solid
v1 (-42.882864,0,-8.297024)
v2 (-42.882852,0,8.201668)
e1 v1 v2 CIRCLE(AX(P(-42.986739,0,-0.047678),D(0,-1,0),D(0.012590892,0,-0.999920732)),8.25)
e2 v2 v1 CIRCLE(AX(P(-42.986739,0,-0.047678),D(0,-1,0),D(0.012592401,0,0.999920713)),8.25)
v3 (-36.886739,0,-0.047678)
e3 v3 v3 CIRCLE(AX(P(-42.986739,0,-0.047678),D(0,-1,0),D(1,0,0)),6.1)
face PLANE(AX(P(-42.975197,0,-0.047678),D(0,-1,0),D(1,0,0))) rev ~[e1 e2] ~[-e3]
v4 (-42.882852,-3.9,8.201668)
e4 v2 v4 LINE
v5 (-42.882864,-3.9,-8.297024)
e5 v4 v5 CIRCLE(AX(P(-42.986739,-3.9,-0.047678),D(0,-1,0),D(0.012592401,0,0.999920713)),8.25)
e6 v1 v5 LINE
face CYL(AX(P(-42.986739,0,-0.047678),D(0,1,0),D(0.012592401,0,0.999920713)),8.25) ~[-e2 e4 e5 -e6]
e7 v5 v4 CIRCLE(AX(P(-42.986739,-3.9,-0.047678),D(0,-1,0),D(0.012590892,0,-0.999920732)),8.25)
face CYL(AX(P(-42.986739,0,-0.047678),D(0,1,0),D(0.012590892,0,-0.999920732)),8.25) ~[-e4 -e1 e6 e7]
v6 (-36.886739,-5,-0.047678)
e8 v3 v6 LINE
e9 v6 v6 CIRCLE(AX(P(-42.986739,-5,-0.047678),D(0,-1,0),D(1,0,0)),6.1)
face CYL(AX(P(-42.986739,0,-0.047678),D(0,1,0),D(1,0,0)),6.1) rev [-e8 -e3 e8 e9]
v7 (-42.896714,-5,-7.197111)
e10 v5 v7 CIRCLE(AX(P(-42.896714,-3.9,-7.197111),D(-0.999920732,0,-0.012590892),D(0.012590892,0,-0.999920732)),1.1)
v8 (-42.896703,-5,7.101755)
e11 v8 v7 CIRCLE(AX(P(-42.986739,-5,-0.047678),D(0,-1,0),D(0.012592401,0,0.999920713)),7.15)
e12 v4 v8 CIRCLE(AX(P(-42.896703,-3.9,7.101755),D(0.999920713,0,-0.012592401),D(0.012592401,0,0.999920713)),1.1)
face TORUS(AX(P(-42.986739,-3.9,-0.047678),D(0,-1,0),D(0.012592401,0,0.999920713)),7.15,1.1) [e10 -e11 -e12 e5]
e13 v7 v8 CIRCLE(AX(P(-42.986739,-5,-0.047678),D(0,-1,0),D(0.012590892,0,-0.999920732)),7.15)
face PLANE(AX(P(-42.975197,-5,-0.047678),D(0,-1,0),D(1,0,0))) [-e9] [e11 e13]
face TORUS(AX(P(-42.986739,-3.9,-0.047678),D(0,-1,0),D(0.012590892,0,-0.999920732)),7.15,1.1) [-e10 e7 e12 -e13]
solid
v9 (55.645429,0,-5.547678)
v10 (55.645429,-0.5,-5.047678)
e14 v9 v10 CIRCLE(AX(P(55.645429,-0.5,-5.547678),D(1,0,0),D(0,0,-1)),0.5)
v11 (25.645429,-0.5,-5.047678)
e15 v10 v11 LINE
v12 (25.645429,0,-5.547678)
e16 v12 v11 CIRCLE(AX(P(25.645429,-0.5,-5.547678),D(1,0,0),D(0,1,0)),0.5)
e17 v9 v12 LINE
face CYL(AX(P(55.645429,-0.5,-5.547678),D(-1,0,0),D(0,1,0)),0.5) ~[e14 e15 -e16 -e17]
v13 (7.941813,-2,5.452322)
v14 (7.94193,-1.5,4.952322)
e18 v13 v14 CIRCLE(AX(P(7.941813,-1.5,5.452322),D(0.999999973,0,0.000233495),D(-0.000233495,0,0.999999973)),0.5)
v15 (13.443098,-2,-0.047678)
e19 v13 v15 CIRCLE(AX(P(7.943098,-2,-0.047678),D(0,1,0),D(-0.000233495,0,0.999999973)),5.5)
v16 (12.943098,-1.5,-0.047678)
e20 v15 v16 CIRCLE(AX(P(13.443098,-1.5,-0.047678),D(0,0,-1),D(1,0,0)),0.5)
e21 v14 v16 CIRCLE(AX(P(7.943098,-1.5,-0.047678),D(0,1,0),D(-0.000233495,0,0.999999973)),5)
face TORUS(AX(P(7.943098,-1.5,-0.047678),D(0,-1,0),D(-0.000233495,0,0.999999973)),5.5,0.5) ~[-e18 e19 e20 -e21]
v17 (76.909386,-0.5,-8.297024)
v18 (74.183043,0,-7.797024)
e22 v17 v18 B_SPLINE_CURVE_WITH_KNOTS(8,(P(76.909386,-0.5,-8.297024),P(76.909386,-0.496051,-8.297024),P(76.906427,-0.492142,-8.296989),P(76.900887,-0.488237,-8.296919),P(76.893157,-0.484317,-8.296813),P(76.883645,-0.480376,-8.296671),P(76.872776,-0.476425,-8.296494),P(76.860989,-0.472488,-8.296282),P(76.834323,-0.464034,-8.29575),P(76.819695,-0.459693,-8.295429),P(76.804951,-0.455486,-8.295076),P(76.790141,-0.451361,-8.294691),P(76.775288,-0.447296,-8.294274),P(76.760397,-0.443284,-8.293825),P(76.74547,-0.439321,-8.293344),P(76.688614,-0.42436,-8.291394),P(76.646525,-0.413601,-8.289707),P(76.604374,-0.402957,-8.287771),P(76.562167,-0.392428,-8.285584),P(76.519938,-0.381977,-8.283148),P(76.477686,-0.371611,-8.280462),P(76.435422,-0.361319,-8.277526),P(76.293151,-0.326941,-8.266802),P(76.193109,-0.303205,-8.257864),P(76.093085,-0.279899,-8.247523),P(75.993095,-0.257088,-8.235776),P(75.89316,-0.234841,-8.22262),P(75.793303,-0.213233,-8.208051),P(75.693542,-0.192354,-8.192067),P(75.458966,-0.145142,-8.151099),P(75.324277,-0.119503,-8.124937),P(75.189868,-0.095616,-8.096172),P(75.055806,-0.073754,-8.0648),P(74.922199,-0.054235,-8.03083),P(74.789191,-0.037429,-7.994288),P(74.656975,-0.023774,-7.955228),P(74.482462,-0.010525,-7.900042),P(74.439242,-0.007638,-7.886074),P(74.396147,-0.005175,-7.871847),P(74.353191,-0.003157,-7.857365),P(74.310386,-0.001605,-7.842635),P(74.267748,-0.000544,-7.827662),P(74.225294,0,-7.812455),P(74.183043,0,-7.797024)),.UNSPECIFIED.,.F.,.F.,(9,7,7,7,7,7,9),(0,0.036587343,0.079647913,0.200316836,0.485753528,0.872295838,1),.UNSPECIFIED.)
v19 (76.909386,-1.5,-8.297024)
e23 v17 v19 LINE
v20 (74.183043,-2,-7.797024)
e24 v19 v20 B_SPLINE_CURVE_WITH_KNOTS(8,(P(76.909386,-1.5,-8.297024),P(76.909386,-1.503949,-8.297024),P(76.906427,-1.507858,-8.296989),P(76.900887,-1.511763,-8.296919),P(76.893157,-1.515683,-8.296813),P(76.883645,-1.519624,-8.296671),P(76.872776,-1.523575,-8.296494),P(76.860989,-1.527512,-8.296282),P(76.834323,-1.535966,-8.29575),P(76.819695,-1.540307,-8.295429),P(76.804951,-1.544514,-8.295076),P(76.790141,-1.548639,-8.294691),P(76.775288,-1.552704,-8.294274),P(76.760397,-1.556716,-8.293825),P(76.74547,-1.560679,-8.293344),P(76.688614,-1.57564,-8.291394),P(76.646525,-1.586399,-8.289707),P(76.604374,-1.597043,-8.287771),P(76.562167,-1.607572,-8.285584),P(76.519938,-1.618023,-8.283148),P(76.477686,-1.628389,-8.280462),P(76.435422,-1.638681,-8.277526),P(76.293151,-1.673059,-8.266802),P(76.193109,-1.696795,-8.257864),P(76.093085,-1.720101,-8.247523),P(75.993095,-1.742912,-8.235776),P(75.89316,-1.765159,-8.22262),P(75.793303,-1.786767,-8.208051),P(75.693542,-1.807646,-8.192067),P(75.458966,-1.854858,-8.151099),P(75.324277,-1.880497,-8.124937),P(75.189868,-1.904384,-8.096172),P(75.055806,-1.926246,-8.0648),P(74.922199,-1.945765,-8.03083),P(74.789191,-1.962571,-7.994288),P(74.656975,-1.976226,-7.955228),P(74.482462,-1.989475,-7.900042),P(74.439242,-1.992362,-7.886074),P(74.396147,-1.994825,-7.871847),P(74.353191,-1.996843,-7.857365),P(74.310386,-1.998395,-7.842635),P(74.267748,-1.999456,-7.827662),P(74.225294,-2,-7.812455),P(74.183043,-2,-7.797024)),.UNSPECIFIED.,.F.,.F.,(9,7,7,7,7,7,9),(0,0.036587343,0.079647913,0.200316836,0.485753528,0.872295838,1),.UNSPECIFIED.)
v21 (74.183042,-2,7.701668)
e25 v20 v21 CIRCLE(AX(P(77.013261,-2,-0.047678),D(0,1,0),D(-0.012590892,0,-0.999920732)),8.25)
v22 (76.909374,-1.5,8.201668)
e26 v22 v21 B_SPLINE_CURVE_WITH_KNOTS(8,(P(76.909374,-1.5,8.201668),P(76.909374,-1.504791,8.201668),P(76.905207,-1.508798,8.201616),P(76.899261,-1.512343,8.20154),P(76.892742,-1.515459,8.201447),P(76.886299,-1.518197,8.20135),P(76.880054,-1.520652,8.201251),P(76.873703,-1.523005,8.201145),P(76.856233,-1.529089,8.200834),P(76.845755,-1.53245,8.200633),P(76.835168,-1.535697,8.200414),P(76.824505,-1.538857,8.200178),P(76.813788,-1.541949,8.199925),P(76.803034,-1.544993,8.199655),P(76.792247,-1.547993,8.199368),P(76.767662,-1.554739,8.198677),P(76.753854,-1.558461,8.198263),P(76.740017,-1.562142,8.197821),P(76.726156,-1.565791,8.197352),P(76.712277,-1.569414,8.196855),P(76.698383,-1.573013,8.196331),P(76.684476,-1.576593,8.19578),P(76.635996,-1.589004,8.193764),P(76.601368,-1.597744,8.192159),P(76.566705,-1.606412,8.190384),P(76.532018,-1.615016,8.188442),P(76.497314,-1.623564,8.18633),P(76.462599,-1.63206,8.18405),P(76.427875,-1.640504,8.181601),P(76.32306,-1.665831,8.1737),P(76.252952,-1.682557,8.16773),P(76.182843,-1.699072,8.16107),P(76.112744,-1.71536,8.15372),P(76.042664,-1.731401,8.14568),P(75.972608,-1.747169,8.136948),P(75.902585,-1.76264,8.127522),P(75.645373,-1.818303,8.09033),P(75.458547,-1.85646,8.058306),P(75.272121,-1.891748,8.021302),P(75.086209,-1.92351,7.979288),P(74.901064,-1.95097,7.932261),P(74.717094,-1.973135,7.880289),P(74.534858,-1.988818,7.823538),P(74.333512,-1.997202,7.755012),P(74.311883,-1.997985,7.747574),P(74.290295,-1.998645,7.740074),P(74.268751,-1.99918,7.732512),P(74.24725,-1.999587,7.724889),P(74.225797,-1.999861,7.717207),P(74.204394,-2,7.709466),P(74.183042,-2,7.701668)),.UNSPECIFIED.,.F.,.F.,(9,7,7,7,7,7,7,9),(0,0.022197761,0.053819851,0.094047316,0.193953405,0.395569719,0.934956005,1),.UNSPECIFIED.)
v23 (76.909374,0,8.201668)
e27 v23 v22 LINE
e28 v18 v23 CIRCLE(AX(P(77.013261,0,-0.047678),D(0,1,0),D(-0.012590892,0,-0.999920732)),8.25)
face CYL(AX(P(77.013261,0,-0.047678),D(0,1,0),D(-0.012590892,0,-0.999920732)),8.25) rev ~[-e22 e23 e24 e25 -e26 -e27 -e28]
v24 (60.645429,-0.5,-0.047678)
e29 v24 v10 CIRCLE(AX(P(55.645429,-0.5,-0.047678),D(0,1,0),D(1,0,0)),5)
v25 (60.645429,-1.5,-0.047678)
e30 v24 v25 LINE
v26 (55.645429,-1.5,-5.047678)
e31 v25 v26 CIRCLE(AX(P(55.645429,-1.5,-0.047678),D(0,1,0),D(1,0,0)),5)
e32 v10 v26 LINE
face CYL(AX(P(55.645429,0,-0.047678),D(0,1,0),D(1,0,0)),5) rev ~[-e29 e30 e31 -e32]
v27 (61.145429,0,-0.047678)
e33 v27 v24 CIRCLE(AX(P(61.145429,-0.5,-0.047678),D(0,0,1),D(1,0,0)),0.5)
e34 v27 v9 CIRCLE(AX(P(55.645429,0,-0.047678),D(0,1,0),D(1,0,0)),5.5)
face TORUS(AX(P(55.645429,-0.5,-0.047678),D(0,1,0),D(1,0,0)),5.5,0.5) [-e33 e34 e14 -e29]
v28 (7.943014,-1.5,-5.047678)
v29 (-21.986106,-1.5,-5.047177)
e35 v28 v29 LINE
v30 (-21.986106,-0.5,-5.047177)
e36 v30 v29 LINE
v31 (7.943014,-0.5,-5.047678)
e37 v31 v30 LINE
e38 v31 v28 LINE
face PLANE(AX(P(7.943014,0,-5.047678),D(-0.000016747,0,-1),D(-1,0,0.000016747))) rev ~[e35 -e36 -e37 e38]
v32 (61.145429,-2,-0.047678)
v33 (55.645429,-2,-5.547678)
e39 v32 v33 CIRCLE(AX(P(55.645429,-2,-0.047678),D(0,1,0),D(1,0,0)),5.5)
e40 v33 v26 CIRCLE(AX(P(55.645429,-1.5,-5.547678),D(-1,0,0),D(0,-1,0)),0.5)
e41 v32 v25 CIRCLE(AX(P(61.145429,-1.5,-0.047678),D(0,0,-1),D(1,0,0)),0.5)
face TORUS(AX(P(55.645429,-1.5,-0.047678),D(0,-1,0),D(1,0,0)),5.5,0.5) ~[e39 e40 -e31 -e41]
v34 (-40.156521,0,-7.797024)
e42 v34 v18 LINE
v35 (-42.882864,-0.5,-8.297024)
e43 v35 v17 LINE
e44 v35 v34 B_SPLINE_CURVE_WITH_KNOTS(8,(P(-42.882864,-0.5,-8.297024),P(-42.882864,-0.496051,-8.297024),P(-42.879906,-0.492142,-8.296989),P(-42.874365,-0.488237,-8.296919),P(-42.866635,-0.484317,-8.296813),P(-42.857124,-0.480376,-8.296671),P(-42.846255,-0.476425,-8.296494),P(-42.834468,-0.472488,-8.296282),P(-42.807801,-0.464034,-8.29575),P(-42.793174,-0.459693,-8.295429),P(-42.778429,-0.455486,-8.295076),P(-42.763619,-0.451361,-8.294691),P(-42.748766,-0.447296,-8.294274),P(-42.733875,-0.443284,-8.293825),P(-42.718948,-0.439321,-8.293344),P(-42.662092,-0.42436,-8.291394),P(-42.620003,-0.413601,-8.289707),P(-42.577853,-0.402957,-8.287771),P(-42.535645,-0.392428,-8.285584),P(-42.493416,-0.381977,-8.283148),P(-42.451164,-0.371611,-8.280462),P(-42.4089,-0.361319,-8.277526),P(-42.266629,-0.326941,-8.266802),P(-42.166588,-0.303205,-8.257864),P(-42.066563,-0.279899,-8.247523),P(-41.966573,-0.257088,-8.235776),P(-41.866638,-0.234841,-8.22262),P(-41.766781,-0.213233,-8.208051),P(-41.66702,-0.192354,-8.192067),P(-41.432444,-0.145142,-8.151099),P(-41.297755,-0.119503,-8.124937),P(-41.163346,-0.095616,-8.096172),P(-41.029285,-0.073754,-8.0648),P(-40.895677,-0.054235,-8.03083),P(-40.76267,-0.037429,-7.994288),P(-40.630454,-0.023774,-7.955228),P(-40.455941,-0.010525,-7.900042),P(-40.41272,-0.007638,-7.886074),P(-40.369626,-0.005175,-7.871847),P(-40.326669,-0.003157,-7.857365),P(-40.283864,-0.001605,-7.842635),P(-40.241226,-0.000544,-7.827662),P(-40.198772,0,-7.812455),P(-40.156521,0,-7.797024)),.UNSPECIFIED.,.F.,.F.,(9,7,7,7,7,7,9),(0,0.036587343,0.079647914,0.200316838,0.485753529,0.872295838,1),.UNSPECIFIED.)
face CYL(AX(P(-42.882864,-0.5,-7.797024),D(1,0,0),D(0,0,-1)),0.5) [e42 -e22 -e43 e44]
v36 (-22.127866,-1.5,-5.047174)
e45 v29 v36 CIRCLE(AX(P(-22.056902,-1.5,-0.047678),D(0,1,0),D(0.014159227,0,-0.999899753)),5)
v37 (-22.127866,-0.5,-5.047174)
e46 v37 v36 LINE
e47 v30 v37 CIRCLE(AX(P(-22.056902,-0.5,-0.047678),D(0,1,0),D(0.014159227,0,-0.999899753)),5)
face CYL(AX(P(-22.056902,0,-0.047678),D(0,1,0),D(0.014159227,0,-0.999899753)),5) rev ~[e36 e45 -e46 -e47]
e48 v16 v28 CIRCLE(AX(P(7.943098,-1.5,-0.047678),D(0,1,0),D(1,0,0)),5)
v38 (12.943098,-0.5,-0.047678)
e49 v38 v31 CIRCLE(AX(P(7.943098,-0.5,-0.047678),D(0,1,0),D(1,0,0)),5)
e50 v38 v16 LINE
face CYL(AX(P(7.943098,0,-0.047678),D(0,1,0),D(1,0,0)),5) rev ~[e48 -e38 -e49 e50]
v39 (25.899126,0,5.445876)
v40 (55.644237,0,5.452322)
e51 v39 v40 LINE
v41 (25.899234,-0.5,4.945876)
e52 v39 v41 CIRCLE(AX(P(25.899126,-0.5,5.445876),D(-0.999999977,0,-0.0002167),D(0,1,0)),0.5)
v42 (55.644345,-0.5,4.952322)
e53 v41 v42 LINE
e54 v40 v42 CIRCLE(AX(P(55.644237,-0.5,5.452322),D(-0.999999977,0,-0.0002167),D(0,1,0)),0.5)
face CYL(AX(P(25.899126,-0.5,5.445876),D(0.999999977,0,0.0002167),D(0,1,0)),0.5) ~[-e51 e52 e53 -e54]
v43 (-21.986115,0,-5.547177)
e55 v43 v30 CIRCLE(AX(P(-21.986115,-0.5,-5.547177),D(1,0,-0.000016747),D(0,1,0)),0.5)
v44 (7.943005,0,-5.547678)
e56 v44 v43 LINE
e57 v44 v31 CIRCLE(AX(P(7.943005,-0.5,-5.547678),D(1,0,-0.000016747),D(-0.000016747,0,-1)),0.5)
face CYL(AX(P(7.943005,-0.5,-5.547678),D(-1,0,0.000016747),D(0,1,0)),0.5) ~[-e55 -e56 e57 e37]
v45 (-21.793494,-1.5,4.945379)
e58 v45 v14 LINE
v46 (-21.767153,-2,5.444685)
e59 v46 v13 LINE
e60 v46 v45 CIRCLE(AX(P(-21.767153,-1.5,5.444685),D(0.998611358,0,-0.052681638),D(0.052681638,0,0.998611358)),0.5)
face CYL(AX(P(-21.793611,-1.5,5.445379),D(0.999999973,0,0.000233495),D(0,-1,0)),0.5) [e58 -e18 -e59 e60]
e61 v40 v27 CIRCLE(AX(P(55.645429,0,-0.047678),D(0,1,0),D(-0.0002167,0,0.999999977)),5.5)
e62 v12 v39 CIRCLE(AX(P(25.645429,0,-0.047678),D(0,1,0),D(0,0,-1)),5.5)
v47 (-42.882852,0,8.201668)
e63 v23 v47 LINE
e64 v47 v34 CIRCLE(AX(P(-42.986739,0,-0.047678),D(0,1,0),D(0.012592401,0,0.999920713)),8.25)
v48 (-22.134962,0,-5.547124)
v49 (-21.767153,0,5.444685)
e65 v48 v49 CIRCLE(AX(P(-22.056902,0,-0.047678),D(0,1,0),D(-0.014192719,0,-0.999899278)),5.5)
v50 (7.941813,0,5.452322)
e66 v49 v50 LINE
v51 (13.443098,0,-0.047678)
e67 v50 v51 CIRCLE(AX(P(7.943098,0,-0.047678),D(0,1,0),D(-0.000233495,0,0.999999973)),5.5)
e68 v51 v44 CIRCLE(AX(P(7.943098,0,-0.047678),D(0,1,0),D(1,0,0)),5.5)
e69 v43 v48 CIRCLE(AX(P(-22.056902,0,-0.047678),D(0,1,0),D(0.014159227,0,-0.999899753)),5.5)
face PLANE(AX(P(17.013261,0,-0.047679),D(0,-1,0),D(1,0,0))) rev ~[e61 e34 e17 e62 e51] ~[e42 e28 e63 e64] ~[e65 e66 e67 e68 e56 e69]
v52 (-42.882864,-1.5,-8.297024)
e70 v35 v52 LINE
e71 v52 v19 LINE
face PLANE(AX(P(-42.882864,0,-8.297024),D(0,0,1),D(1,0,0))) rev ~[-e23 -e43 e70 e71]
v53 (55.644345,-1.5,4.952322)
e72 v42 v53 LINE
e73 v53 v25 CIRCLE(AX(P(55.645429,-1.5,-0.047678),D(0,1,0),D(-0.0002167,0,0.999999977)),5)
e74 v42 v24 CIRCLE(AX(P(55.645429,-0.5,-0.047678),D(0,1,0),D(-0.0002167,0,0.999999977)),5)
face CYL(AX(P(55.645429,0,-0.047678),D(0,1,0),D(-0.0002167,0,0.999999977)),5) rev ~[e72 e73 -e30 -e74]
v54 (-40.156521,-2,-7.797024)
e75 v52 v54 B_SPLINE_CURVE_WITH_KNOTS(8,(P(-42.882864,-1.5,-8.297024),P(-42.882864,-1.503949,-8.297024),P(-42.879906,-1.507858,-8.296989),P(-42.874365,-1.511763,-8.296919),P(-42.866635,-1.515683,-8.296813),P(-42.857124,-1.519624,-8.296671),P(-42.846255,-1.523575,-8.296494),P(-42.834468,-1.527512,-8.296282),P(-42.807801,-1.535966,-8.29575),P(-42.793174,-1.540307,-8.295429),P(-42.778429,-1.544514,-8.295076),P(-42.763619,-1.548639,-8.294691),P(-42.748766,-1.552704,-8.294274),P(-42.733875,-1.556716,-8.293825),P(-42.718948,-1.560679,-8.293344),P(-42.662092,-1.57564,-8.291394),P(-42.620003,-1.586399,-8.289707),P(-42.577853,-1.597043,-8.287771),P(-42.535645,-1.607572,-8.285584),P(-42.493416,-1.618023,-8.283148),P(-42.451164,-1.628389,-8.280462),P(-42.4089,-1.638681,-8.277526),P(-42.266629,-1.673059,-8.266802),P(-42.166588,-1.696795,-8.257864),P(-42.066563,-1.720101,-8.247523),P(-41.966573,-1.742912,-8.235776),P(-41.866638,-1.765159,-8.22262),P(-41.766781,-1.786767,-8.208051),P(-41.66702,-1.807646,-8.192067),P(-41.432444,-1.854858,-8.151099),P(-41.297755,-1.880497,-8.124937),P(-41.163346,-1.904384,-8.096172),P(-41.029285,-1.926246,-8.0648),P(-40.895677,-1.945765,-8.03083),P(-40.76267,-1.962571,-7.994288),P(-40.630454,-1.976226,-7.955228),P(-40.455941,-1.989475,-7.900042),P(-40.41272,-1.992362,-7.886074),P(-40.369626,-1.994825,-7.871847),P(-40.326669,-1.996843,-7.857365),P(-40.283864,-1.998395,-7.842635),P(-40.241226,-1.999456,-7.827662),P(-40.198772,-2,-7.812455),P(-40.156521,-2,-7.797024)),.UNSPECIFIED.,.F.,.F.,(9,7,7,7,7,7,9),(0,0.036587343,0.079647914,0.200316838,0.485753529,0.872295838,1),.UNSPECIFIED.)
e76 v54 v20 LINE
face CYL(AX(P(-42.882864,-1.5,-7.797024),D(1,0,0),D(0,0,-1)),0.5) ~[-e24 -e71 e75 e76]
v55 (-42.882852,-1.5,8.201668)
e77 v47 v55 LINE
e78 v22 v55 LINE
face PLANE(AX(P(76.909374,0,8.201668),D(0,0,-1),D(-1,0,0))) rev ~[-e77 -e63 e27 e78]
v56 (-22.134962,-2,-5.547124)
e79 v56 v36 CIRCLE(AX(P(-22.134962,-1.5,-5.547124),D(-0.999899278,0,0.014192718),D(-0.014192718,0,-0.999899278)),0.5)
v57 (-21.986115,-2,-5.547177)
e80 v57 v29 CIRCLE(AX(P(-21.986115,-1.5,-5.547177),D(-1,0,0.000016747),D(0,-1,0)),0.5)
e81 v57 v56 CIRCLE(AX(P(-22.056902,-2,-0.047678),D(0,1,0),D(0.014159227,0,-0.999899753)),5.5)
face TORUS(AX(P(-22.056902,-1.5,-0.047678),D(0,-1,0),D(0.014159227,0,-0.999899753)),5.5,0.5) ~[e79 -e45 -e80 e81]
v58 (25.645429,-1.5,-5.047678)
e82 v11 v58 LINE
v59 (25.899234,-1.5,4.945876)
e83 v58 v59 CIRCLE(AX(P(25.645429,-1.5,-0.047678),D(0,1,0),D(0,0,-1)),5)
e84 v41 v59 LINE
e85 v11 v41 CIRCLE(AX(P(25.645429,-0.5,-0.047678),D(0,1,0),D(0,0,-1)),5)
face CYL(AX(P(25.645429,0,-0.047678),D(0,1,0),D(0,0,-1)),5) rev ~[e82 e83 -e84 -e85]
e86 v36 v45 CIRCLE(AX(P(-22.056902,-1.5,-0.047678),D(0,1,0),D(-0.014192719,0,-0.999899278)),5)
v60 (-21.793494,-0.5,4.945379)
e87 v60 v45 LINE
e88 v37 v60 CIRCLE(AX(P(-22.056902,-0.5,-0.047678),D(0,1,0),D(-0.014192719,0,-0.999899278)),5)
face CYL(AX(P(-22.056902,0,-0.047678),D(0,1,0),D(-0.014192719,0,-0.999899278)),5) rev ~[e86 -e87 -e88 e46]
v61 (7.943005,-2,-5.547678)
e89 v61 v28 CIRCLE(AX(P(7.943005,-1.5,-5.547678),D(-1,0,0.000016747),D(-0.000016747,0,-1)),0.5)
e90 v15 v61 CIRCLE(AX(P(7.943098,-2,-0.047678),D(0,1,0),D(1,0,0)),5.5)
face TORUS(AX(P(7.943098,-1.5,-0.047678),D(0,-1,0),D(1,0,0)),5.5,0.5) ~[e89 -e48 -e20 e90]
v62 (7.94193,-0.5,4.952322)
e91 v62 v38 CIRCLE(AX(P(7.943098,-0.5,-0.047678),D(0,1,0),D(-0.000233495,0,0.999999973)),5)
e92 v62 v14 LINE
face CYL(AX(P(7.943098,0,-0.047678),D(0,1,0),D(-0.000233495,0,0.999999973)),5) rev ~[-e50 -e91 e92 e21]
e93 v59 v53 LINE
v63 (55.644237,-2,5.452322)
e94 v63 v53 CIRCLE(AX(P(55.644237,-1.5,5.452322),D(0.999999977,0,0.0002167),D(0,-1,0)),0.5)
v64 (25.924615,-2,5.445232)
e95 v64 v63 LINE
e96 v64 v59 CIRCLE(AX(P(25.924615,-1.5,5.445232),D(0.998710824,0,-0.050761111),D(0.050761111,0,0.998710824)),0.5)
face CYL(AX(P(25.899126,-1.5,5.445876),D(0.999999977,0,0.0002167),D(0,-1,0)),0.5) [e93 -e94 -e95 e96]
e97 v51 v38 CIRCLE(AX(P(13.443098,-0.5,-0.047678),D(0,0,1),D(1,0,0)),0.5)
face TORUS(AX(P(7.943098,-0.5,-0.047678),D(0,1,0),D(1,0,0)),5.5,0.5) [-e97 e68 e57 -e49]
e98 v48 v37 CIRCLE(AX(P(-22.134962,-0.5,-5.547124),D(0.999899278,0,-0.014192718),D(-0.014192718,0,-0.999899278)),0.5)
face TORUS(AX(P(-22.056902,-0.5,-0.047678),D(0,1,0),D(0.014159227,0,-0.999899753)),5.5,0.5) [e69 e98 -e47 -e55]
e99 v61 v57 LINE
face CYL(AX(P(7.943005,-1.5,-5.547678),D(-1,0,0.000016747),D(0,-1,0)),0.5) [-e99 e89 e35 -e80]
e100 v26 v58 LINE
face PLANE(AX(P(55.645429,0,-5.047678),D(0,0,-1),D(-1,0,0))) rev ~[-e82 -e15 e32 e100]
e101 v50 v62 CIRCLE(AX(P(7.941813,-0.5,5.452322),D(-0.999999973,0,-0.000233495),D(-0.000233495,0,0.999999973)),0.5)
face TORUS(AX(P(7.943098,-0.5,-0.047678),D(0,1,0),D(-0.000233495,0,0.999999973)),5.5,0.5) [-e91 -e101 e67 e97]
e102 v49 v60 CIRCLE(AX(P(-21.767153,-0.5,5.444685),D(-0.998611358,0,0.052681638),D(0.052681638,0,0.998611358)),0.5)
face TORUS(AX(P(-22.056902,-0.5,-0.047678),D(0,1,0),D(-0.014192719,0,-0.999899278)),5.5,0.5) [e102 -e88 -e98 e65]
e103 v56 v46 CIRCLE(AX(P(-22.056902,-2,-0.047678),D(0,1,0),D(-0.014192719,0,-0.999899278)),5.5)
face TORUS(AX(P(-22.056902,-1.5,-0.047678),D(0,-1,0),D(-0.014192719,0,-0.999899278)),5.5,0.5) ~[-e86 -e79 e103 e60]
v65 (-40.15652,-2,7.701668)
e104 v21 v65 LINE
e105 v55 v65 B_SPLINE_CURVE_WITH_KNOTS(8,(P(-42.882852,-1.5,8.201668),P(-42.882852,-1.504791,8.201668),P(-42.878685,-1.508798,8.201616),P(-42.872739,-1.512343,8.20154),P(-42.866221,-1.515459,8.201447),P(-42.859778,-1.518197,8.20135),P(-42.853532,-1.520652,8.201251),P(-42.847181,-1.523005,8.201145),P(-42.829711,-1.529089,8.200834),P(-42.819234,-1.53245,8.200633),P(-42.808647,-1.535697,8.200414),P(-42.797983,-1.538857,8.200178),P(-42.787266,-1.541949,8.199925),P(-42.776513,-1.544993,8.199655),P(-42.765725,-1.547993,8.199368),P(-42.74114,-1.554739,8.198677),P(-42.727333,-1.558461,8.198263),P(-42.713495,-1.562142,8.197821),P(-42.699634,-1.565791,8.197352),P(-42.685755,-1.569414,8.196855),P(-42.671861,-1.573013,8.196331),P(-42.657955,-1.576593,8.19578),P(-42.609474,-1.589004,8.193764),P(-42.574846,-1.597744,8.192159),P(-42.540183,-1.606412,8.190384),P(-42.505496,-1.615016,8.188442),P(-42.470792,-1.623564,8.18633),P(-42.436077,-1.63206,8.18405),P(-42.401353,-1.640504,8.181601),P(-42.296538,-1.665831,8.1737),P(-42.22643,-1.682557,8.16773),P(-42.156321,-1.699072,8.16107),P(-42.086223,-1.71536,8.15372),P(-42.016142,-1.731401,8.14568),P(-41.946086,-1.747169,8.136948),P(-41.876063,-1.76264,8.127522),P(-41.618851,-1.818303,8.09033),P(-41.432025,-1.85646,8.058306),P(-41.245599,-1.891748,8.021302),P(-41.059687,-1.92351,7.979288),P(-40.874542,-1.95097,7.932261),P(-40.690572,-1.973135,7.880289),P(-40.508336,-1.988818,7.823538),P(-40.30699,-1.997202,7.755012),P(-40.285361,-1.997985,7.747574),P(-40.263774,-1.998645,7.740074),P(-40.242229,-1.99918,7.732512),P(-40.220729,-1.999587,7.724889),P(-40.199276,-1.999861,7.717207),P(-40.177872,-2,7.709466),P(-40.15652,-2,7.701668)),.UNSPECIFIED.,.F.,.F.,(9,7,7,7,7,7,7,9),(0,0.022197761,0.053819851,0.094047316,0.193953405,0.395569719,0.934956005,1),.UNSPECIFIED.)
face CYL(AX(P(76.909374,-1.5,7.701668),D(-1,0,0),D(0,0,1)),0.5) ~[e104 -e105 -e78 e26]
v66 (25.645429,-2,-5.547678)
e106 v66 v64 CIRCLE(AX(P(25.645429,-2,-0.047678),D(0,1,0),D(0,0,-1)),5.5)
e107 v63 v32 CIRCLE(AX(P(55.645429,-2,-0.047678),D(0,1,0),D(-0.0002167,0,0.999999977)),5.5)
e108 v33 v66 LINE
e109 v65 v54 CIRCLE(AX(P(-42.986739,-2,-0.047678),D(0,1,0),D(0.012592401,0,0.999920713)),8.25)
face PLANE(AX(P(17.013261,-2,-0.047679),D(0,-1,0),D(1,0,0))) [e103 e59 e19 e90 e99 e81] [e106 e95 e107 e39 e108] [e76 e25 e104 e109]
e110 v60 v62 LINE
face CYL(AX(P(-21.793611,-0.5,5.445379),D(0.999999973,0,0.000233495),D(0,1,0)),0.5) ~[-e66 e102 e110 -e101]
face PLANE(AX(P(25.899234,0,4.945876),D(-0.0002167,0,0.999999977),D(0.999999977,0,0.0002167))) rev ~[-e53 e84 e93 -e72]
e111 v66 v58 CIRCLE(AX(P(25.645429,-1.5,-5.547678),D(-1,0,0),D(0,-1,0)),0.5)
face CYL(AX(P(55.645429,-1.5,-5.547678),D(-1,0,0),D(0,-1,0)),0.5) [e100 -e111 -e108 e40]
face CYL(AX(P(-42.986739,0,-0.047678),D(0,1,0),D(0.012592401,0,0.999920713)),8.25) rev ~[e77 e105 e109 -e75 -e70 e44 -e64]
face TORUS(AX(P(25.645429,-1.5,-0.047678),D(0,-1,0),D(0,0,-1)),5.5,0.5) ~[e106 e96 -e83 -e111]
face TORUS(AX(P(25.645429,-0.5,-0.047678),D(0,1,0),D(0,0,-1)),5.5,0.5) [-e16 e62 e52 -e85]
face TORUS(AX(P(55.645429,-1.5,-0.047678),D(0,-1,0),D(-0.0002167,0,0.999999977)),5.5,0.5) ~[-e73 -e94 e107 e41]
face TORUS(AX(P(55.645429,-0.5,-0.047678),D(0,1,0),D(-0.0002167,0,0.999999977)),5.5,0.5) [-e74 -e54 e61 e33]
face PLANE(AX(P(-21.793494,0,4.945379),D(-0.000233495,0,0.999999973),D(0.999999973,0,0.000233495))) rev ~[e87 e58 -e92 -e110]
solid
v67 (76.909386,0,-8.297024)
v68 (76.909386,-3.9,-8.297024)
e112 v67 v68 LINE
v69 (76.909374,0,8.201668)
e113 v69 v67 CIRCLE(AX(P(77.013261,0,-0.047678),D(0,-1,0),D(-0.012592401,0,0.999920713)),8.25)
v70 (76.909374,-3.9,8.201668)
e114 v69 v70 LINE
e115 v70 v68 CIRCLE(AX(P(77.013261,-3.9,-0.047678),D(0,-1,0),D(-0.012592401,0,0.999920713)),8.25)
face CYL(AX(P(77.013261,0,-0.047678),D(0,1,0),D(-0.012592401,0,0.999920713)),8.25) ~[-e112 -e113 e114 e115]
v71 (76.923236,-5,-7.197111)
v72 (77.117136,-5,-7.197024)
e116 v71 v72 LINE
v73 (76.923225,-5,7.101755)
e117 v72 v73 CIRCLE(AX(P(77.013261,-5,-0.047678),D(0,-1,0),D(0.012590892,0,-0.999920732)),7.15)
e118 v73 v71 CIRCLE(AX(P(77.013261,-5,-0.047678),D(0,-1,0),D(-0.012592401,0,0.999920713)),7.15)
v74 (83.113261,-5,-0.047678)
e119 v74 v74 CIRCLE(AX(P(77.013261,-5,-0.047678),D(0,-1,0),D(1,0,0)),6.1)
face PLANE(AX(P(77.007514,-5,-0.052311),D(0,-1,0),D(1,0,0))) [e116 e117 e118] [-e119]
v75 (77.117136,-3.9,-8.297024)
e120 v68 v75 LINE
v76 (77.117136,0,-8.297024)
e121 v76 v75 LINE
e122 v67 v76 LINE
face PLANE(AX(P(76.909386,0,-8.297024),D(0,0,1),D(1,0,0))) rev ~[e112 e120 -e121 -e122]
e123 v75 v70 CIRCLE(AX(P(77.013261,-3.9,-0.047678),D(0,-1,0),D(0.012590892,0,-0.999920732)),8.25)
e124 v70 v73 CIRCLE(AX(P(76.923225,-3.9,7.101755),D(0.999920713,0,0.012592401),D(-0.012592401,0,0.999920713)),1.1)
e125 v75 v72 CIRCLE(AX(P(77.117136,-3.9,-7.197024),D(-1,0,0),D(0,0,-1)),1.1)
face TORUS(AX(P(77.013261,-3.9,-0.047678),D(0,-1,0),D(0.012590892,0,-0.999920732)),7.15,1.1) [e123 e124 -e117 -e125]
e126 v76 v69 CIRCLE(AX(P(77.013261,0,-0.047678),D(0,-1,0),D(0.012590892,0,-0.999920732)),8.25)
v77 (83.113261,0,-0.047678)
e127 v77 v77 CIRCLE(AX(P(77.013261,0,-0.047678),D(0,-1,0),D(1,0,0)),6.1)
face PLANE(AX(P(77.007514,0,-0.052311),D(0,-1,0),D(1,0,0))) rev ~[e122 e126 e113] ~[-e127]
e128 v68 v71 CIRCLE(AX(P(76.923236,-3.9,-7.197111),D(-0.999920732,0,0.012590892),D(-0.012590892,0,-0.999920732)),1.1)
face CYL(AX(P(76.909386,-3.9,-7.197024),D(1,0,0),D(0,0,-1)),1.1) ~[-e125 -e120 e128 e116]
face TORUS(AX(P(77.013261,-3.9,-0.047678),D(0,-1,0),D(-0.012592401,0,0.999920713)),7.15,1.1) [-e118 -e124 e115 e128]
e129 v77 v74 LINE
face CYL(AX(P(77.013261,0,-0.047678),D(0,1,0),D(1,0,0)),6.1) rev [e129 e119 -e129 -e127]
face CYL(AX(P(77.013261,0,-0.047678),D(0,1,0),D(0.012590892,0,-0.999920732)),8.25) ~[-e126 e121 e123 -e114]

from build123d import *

# Parameters (mm, degrees)
F0_R     = 6.1
F1_DEPTH = 5
F2_DEPTH = 2
F3_R     = 1.1
F4_R     = 1.1
F5_R     = 0.5
F6_DEPTH = 10
F7_R     = 0.5


with BuildPart() as f1:
    # F0 (on Front) → F1 (new body)
    with BuildSketch(Plane.XZ):
        with BuildLine():
            ThreePointArc((-42.8828642556, -8.2970239287), (-37.1164977419, -5.8444671938), (-34.7367391172, -0.0476778932))
            ThreePointArc((-34.7367391172, -0.0476778932), (-37.1164933676, 5.7491069777), (-42.8828518055, 8.2016679855))
            ThreePointArc((-42.8828518055, 8.2016679855), (-51.2367391172, -0.0476716677), (-42.8828642556, -8.2970239287))
        make_face()
        with Locations((-42.9867391172, -0.0476778932)):
            Circle(F0_R, mode=Mode.SUBTRACT)
    extrude(amount=F1_DEPTH)

    # F3
    f3_edges = [f1.edges().sort_by_distance(p)[0] for p in [
        (-43.090614, -5, 8.201668),
    ]]
    fillet(f3_edges, radius=F3_R)

    # F0 (on Front) → F6 (cut)
    with BuildSketch(Plane.XZ):
        with BuildLine():
            ThreePointArc((-21.9861062732, -5.0471766588), (-18.4964262699, -3.5580923501), (-17.0569024095, -0.0476778932))
            ThreePointArc((-17.0569024095, -0.0476778932), (-18.4294349079, 3.393467196), (-21.7934942194, 4.9453788986))
            ThreePointArc((-21.7934942194, 4.9453788986), (-27.0541054783, 0.1195390003), (-22.1278660026, -5.0471742847))
            Line((-22.1278660026, -5.0471742847), (-21.9861062732, -5.0471766588))
        make_face()
        with BuildLine():
            ThreePointArc((-21.7934942194, 4.9453788986), (-18.4294349079, 3.393467196), (-17.0569024095, -0.0476778932))
            ThreePointArc((-17.0569024095, -0.0476778932), (-18.4964262699, -3.5580923501), (-21.9861062732, -5.0471766588))
            Line((-21.9861062732, -5.0471766588), (7.9430138537, -5.0476778925))
            ThreePointArc((7.9430138537, -5.0476778925), (2.9430976198, -0.0482197622), (7.9419301157, 4.9523219705))
            Line((7.9419301157, 4.9523219705), (-21.7934942194, 4.9453788986))
        make_face()
        with BuildLine():
            ThreePointArc((12.9430975905, -0.0476778932), (11.4782187076, 3.4882687533), (7.9419301157, 4.9523219705))
            ThreePointArc((7.9419301157, 4.9523219705), (2.9430976198, -0.0482197622), (7.9430138537, -5.0476778925))
            ThreePointArc((7.9430138537, -5.0476778925), (11.4786018909, -3.5832414044), (12.9430975905, -0.0476778932))
        make_face()
    extrude(amount=-F6_DEPTH, mode=Mode.SUBTRACT)


with BuildPart() as f1b:
    # F0 (on Front) → F1, piece 2 (new body)
    with BuildSketch(Plane.XZ):
        with BuildLine():
            ThreePointArc((85.2632608828, -0.0476778932), (82.8100457537, 5.8225678564), (76.9093735712, 8.2016679855))
            ThreePointArc((76.9093735712, 8.2016679855), (68.7632608828, -0.0476841187), (76.9093860212, -8.2970239287))
            Line((76.9093860212, -8.2970239287), (77.1171357444, -8.2970239287))
            ThreePointArc((77.1171357444, -8.2970239287), (82.8835022581, -5.8444671938), (85.2632608828, -0.0476778932))
        make_face()
        with Locations((77.0132608828, -0.0476778932)):
            Circle(F0_R, mode=Mode.SUBTRACT)
    extrude(amount=F1_DEPTH)

    # F4
    f4_edges = [f1b.edges().sort_by_distance(p)[0] for p in [
        (68.763261, -5, -0.047684),
    ]]
    fillet(f4_edges, radius=F4_R)


with BuildPart() as f2:
    # F0 (on Front) → F2 (new body)
    with BuildSketch(Plane.XZ):
        with BuildLine():
            ThreePointArc((-42.8828518055, 8.2016679855), (-37.1164933676, 5.7491069777), (-34.7367391172, -0.0476778932))
            ThreePointArc((-34.7367391172, -0.0476778932), (-37.1164977419, -5.8444671938), (-42.8828642556, -8.2970239287))
            Line((-42.8828642556, -8.2970239287), (76.9093860212, -8.2970239287))
            ThreePointArc((76.9093860212, -8.2970239287), (68.7632608828, -0.0476841187), (76.9093735712, 8.2016679855))
            Line((76.9093735712, 8.2016679855), (-42.8828518055, 8.2016679855))
        make_face()
        with BuildLine():
            ThreePointArc((-22.1278660026, -5.0471742847), (-27.0541054783, 0.1195390003), (-21.7934942194, 4.9453788986))
            Line((-21.7934942194, 4.9453788986), (7.9419301157, 4.9523219705))
            ThreePointArc((7.9419301157, 4.9523219705), (11.4782187076, 3.4882687533), (12.9430975905, -0.0476778932))
            ThreePointArc((12.9430975905, -0.0476778932), (11.4786018909, -3.5832414044), (7.9430138537, -5.0476778925))
            Line((7.9430138537, -5.0476778925), (-21.9861062732, -5.0471766588))
            ThreePointArc((-21.9861062732, -5.0471766588), (-22.0569861463, -5.0476778925), (-22.1278660026, -5.0471742847))
        make_face(mode=Mode.SUBTRACT)
        with BuildLine():
            ThreePointArc((25.6454287905, -5.0476778932), (20.6470405205, 0.0792658044), (25.8992343461, 4.9458762259))
            Line((25.8992343461, 4.9458762259), (55.6443452909, 4.9523219894))
            ThreePointArc((55.6443452909, 4.9523219894), (59.1805796007, 3.488239067), (60.6454287905, -0.0476778932))
            ThreePointArc((60.6454287905, -0.0476778932), (59.1809626964, -3.5832117991), (55.6454287905, -5.0476778932))
            Line((55.6454287905, -5.0476778932), (25.6454287905, -5.0476778932))
        make_face(mode=Mode.SUBTRACT)
    extrude(amount=F2_DEPTH)

    # F5
    f5_edges = [f2.edges().sort_by_distance(p)[0] for p in [
        (17.013261, -2, -8.297024),
        (17.013261, -2, 8.201668),
        (17.013261, 0, -8.297024),
    ]]
    fillet(f5_edges, radius=F5_R)

    # F7
    f7_edges = [f2.edges().sort_by_distance(p)[0] for p in [
        (12.943098, -2, -0.047136),
        (-6.925782, -2, 4.94885),
        (-27.055974, -2, 0.048682),
        (-7.021546, -2, -5.047427),
        (40.645429, -2, -5.047678),
        (20.647041, -2, 0.079266),
        (40.77179, -2, 4.949099),
        (60.645429, -2, -0.047136),
        (12.943098, 0, -0.047136),
        (-7.021546, 0, -5.047427),
        (-27.055974, 0, 0.048682),
        (-6.925782, 0, 4.94885),
        (40.77179, 0, 4.949099),
        (20.647041, 0, 0.079266),
        (40.645429, 0, -5.047678),
        (60.645429, 0, -0.047136),
    ]]
    fillet(f7_edges, radius=F7_R)


solid = Compound([f1.part, f1b.part, f2.part])
